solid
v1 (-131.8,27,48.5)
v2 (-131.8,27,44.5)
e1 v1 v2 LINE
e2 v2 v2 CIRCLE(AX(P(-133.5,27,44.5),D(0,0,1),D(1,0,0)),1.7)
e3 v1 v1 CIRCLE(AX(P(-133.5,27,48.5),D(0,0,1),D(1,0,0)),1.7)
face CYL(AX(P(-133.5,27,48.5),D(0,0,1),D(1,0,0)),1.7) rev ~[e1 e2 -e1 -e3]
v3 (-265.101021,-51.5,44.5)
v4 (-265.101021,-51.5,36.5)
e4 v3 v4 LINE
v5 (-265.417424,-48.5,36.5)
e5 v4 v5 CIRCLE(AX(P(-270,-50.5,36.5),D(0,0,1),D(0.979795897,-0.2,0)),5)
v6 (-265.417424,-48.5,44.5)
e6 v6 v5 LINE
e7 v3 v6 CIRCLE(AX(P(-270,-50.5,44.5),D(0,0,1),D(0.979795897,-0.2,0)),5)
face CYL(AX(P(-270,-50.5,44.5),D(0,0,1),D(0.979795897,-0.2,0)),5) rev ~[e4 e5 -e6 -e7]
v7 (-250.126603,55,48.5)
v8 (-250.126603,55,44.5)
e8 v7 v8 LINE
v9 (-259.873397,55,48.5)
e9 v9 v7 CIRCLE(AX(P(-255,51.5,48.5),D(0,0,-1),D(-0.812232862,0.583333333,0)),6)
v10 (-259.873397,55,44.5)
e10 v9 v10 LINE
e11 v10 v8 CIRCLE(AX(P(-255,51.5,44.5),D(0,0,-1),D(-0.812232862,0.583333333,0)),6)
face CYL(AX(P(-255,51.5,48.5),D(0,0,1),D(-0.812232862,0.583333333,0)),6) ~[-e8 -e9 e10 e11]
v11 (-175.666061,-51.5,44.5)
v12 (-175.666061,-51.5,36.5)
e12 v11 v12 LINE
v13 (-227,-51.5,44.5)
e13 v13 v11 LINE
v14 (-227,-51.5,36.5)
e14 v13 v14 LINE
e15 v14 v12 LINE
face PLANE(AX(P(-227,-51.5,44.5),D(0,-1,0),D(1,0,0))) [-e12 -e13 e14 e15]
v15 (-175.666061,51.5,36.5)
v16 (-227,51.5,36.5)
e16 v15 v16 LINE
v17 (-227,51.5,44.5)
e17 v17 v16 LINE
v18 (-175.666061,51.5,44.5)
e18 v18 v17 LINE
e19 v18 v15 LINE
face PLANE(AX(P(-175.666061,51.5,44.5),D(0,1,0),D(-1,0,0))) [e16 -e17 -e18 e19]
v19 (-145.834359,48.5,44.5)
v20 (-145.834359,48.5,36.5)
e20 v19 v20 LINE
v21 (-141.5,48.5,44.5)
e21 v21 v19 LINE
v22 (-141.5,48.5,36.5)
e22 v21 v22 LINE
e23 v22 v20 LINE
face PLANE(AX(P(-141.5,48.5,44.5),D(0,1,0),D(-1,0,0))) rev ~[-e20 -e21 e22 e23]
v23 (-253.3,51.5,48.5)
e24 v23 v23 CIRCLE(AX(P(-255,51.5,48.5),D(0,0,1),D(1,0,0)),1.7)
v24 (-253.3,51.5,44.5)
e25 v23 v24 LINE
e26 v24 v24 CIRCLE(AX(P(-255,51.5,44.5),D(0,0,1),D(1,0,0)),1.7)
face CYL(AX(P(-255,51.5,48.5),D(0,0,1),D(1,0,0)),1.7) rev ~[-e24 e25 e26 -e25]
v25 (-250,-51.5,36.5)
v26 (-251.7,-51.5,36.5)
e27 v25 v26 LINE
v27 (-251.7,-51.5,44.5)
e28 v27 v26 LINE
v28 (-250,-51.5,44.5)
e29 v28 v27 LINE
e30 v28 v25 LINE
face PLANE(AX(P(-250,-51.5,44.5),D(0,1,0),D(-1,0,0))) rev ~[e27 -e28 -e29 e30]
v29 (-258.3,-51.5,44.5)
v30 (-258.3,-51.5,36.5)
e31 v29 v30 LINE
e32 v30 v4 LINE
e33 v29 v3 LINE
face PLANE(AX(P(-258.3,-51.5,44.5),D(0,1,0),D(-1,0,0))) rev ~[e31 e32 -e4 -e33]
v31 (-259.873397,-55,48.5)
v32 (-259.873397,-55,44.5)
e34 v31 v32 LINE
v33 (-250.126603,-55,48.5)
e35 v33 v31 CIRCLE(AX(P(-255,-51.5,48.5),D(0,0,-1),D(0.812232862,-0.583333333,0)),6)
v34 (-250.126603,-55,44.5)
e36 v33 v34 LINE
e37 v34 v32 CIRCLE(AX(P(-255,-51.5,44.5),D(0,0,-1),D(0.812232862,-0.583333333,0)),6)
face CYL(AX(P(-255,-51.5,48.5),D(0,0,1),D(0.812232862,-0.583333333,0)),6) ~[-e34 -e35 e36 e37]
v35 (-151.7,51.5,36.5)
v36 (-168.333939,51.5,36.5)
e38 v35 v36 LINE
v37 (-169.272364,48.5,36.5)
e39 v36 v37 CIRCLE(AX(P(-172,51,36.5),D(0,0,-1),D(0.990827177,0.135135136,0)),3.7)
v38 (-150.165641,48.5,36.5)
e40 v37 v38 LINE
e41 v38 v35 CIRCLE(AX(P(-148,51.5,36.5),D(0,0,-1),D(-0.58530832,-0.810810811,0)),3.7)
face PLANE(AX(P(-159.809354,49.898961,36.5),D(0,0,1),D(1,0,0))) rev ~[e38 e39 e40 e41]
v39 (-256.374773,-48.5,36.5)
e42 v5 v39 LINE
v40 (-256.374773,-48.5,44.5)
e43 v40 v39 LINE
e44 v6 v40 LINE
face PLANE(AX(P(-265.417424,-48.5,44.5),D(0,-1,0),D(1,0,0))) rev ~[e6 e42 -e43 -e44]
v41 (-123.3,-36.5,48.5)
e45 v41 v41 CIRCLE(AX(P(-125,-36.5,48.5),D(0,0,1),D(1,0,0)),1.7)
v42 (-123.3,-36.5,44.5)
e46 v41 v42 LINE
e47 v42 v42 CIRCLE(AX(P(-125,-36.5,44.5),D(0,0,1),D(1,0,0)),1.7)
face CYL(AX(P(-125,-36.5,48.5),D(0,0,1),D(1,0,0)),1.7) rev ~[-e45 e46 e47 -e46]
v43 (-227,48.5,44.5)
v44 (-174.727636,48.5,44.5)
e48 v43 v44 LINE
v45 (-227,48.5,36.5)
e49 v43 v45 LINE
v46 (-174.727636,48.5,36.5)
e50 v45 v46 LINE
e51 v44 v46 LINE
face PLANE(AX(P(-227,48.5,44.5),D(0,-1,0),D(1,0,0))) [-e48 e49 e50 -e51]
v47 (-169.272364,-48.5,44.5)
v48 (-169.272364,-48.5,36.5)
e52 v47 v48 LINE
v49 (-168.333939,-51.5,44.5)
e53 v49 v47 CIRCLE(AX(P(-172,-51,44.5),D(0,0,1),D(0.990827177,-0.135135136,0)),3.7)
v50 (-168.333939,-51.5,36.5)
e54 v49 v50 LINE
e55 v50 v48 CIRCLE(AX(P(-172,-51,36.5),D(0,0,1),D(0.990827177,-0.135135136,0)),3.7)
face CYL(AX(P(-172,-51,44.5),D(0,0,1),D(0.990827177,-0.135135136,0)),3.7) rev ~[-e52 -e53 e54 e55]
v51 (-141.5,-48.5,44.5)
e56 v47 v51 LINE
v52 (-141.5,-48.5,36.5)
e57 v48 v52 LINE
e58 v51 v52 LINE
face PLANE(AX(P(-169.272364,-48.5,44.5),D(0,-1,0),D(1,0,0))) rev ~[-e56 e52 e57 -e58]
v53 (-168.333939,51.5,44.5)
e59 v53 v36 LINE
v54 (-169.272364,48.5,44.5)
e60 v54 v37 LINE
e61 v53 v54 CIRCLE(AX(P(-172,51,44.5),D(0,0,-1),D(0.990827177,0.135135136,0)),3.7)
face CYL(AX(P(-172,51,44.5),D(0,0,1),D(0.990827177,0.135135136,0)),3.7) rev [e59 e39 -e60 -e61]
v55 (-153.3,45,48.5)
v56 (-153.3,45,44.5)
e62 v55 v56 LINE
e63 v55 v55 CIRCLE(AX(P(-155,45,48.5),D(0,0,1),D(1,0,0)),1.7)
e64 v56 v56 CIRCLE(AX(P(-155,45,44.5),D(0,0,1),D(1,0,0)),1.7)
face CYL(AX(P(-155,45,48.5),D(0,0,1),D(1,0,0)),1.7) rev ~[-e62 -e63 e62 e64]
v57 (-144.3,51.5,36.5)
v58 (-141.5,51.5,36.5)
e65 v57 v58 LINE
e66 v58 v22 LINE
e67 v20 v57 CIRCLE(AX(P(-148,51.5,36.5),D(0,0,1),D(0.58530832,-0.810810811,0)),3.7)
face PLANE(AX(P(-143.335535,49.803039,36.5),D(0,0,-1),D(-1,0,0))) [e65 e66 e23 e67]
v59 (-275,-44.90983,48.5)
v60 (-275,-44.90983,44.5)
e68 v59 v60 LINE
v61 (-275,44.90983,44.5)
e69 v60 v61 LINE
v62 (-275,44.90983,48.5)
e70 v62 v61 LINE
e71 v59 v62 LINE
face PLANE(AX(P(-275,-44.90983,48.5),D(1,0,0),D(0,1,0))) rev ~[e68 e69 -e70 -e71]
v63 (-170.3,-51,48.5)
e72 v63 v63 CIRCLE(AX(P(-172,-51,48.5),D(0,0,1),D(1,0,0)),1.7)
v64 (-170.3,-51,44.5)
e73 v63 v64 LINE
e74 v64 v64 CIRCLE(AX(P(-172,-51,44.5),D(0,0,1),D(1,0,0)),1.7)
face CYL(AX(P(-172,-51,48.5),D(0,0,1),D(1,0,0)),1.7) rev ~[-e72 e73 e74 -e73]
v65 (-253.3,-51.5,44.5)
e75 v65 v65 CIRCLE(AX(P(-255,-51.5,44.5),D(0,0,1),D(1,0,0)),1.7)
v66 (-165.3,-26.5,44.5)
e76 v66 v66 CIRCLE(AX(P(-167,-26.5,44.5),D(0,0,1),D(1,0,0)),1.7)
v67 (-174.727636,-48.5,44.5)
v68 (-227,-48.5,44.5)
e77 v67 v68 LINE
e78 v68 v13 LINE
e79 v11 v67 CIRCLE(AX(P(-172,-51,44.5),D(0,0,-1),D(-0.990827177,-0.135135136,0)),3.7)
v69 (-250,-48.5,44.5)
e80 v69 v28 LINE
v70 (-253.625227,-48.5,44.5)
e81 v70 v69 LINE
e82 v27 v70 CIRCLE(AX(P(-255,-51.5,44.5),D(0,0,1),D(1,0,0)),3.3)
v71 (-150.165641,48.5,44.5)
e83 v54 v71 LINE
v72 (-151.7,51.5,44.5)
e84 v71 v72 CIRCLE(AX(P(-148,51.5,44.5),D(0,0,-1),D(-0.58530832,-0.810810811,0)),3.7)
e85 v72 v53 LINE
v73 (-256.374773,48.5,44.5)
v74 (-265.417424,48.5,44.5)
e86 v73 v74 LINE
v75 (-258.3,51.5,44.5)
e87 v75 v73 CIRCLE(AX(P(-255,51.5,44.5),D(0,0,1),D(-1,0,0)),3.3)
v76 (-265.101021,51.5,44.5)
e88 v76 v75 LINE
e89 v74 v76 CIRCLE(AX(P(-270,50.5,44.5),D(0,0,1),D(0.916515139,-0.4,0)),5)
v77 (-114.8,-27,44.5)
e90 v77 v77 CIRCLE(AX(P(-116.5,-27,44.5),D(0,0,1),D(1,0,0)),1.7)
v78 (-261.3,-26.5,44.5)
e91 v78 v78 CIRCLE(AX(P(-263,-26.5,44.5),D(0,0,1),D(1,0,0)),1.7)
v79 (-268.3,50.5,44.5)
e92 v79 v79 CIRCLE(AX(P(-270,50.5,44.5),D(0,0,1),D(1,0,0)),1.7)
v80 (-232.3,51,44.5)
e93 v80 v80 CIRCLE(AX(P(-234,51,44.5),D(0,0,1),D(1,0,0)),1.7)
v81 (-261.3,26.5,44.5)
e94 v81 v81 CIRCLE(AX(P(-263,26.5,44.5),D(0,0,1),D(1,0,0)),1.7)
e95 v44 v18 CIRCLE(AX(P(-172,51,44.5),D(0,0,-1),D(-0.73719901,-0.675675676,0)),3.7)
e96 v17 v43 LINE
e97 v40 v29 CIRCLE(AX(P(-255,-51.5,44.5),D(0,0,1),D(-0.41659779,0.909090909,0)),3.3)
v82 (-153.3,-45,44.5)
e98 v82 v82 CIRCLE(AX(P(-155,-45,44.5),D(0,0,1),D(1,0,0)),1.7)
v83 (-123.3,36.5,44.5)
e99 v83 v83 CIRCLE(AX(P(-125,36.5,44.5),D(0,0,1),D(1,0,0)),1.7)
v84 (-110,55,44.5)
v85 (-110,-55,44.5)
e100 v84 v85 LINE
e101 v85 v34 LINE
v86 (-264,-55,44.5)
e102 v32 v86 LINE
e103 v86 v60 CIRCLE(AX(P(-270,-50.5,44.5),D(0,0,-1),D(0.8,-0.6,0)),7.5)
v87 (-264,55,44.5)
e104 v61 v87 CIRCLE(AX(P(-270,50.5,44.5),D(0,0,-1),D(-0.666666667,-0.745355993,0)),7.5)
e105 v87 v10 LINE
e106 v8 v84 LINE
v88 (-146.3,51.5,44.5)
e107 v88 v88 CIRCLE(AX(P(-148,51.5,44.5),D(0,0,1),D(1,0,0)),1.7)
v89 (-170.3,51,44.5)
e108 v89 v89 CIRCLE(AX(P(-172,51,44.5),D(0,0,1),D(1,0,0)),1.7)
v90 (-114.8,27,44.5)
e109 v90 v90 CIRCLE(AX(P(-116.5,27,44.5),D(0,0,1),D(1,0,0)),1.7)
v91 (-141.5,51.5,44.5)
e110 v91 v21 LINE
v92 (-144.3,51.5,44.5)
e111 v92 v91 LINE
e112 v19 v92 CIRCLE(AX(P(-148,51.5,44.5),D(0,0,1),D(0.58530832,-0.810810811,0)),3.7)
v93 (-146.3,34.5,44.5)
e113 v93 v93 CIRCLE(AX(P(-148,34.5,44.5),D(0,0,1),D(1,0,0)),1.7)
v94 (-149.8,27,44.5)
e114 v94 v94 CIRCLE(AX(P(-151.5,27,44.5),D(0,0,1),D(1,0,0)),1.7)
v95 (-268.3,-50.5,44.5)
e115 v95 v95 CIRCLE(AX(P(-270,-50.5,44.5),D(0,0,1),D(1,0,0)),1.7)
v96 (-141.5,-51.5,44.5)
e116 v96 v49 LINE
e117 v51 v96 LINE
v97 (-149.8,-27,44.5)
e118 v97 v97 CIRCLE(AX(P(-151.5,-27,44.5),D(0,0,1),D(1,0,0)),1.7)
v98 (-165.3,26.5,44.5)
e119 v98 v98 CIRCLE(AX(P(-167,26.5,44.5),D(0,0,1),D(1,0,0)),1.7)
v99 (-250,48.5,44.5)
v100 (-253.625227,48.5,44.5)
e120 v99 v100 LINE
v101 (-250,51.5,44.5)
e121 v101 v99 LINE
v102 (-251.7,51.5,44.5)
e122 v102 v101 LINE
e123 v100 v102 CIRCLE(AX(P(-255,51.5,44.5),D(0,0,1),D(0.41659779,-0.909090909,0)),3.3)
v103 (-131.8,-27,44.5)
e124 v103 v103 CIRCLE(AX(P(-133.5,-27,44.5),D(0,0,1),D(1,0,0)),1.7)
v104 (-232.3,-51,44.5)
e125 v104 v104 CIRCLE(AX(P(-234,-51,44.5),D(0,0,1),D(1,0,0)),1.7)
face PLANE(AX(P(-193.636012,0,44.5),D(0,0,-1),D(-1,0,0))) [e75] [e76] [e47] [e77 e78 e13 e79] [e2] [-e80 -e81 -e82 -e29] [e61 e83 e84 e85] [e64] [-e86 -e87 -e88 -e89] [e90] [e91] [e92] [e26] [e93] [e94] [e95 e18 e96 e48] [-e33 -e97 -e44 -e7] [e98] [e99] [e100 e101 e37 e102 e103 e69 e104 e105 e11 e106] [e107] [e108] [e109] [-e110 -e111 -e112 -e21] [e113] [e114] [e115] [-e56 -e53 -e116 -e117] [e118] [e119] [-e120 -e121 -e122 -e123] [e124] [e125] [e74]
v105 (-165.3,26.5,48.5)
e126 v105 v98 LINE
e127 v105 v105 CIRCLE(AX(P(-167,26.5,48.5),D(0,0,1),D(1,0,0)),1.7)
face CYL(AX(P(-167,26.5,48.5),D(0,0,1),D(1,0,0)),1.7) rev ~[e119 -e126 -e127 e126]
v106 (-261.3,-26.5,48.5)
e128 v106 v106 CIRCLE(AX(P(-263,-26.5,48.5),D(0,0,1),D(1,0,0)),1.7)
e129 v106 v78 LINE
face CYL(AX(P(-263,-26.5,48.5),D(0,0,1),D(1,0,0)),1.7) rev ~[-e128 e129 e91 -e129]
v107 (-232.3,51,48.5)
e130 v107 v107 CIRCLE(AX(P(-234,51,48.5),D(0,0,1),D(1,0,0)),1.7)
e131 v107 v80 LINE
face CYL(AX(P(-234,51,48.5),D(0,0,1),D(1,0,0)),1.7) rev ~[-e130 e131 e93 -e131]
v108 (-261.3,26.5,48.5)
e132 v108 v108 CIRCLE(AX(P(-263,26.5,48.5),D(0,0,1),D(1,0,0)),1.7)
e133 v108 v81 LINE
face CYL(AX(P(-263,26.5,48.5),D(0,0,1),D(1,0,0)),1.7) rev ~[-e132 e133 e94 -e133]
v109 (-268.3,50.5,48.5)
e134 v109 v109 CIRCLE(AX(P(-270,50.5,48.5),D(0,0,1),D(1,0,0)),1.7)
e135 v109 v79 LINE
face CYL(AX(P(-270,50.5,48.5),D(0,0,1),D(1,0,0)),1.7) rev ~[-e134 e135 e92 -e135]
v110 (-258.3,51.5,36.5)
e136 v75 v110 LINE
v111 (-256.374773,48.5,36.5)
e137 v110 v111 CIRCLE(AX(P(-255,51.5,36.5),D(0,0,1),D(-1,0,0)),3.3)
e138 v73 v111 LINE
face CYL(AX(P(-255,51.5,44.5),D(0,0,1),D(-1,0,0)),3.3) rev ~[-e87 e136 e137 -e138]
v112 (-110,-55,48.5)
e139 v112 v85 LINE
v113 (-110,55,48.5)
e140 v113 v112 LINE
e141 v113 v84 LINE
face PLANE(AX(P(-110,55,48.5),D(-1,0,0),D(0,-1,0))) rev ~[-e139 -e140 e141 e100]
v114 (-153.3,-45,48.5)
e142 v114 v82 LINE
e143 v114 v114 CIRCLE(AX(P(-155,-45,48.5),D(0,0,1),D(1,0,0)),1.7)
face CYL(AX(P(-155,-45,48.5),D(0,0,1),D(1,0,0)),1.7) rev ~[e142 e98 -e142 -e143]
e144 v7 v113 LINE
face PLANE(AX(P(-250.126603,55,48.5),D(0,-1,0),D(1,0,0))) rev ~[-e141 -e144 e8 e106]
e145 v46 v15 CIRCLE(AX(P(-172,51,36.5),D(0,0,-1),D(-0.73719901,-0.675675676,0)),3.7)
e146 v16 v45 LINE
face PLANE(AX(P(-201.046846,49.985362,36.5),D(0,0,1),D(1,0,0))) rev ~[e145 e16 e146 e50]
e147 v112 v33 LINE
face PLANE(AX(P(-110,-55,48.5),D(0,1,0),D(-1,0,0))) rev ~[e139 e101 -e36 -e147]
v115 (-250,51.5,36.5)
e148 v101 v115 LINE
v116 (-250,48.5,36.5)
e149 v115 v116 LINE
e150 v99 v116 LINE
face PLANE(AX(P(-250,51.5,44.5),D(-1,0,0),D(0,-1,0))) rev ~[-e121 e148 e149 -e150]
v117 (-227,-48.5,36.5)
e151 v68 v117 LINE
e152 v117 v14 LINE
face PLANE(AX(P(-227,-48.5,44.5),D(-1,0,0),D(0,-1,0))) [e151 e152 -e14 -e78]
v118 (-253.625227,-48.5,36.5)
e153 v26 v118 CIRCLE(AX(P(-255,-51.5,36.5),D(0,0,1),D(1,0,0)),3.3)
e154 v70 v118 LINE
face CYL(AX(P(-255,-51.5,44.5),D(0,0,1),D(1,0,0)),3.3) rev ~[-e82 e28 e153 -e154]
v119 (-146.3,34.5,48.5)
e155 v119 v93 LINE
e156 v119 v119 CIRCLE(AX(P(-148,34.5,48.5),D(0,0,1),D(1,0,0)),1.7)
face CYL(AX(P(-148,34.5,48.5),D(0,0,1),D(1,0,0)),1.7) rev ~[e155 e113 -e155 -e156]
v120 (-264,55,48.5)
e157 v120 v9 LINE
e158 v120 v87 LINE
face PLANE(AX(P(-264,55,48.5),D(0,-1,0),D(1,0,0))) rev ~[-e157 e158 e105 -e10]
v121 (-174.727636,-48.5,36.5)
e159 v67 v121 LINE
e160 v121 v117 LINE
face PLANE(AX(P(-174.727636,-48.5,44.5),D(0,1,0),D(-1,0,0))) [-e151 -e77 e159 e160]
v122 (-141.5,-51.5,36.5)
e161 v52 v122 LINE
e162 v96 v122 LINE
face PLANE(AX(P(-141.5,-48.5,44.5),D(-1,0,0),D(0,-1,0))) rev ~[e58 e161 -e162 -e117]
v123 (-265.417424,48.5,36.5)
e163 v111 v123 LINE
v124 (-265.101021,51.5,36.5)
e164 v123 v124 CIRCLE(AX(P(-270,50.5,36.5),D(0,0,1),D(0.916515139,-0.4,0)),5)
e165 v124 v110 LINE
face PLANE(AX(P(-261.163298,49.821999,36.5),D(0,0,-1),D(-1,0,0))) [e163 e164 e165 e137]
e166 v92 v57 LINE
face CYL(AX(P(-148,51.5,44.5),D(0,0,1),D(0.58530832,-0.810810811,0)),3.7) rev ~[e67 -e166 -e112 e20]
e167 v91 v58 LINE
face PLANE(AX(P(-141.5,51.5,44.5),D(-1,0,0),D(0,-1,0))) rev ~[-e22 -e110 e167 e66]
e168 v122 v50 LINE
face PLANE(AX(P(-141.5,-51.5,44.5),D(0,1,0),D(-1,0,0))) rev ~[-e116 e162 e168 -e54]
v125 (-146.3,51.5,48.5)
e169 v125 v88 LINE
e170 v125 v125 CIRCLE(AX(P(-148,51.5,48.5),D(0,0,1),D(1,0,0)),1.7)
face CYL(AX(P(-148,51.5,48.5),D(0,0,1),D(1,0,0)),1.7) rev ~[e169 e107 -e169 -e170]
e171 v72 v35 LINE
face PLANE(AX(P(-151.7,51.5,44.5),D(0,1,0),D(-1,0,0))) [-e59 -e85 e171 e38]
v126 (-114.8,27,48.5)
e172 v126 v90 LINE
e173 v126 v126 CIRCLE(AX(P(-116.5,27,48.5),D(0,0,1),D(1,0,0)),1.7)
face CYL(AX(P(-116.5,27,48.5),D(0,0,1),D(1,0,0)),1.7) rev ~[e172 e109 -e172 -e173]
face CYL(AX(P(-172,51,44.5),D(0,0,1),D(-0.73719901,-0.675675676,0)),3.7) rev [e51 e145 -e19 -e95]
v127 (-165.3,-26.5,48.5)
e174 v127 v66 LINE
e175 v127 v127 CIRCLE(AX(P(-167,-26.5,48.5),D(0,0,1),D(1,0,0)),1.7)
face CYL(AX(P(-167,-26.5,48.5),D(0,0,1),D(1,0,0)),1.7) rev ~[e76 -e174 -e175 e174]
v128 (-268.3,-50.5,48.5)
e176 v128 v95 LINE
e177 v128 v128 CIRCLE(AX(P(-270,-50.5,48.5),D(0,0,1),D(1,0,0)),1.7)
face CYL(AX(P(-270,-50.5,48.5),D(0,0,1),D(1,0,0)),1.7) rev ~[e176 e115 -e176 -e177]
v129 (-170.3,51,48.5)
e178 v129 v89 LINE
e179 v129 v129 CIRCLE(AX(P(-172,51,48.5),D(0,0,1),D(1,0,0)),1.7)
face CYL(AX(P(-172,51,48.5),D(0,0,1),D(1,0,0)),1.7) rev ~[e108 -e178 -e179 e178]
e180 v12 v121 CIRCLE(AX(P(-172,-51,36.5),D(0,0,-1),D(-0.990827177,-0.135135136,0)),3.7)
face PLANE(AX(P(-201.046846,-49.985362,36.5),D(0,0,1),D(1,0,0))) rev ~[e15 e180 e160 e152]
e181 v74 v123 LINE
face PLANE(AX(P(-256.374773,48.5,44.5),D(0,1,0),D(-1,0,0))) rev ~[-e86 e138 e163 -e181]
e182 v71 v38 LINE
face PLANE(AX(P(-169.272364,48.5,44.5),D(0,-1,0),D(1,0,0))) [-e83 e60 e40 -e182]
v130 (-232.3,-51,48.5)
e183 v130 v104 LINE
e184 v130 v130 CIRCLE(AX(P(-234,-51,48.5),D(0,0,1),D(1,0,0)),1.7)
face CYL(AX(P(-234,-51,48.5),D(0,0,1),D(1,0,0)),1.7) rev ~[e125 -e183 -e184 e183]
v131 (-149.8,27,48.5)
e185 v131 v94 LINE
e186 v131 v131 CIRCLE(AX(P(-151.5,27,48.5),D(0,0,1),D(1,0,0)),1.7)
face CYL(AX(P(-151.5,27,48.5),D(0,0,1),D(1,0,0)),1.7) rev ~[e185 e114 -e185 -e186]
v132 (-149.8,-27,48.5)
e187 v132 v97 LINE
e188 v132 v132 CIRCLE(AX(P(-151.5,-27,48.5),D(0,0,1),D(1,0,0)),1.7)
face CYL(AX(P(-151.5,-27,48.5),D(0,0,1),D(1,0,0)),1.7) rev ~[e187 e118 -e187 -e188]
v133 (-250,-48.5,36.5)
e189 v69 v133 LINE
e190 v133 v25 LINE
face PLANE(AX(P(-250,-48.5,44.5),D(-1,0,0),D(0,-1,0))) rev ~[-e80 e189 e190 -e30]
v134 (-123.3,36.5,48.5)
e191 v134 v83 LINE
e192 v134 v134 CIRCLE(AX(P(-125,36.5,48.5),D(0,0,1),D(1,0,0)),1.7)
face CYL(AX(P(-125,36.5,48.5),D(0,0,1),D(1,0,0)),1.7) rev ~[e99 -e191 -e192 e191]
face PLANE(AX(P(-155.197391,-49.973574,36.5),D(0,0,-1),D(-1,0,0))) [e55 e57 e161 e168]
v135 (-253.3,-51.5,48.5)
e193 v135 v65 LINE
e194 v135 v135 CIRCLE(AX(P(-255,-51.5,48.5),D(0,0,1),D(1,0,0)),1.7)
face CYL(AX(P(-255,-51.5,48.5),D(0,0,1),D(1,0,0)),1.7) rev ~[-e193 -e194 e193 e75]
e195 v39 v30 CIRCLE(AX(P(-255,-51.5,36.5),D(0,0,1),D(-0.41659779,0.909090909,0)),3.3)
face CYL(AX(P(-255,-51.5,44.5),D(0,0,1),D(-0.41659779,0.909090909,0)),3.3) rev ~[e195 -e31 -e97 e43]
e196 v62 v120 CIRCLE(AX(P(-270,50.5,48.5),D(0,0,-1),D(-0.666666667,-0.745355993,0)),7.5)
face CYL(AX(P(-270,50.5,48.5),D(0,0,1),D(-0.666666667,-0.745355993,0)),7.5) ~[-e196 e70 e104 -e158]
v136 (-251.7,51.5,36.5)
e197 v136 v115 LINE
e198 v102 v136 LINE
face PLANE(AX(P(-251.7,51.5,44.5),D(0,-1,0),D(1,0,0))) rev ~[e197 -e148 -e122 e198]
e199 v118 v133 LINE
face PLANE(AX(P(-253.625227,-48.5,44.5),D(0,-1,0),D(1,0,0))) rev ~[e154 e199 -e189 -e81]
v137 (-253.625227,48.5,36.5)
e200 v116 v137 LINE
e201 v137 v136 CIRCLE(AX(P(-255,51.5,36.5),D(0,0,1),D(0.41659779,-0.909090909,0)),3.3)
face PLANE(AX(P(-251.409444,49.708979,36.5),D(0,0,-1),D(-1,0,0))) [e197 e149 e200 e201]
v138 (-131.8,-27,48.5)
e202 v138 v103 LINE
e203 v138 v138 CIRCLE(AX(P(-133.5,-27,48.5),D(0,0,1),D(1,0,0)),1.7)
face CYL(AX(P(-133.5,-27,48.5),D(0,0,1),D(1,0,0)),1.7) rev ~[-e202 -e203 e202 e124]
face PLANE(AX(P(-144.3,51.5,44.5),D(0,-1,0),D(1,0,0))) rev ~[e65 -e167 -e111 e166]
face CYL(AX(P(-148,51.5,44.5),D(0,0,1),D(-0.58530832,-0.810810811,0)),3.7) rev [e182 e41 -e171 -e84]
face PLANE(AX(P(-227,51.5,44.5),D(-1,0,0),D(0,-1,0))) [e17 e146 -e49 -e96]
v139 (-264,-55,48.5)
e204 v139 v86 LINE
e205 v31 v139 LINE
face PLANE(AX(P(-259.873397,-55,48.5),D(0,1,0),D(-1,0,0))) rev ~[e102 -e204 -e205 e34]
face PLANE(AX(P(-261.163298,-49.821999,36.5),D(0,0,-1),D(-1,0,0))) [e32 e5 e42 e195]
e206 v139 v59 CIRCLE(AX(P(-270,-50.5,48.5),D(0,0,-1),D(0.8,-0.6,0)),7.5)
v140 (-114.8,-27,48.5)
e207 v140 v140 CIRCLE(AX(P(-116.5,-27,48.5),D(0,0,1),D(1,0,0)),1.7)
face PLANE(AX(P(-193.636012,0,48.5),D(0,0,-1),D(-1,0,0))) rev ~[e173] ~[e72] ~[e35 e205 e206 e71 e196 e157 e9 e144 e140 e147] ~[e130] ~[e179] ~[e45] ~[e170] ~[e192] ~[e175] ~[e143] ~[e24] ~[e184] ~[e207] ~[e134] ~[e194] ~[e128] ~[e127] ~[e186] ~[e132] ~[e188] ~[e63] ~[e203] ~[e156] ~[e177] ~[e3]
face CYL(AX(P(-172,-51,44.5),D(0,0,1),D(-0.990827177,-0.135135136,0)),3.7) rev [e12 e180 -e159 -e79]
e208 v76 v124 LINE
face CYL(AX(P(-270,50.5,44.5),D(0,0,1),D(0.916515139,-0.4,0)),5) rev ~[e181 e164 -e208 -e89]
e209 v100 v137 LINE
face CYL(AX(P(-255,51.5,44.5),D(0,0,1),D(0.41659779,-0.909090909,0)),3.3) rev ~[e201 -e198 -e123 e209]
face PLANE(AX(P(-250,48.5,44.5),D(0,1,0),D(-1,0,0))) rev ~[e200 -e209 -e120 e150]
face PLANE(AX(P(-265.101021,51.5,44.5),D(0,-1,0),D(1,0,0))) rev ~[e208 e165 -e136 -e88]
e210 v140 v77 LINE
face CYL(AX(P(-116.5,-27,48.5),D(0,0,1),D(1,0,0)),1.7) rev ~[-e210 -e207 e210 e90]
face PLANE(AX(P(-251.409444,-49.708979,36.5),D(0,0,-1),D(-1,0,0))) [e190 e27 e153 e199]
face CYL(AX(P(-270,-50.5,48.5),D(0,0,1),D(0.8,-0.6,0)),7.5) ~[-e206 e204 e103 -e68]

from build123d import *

# Parameters (mm, degrees)
MAIN_PROFILE_SKETCH_R    = 1.7
MAIN_EXTRUSION_DEPTH     = 4
DETAIL_EXTRUSION_2_DEPTH = 8


with BuildPart() as part:
    # Main Profile Sketch → Main Extrusion (new body)
    with BuildSketch(Plane.XY.offset(48.5)):
        with BuildLine():
            Line((-110, 55), (-110, -55))
            Line((-110, -55), (-250.126602828, -55))
            ThreePointArc((-250.126602828, -55), (-255, -57.5), (-259.873397172, -55))
            Line((-259.873397172, -55), (-264, -55))
            ThreePointArc((-264, -55), (-275.069801019, -56.026944692), (-275, -44.909830056))
            Line((-275, -44.909830056), (-275, 44.909830056))
            ThreePointArc((-275, 44.909830056), (-275.069801019, 56.026944692), (-264, 55))
            Line((-264, 55), (-259.873397172, 55))
            ThreePointArc((-259.873397172, 55), (-255, 57.5), (-250.126602828, 55))
            Line((-250.126602828, 55), (-110, 55))
        make_face()
        with Locations((-270, -50.5)):
            Circle(MAIN_PROFILE_SKETCH_R, mode=Mode.SUBTRACT)
        with Locations((-255, -51.5)):
            Circle(MAIN_PROFILE_SKETCH_R, mode=Mode.SUBTRACT)
        with Locations((-234, -51)):
            Circle(MAIN_PROFILE_SKETCH_R, mode=Mode.SUBTRACT)
        with Locations((-263, -26.5)):
            Circle(MAIN_PROFILE_SKETCH_R, mode=Mode.SUBTRACT)
        with Locations((-172, -51)):
            Circle(MAIN_PROFILE_SKETCH_R, mode=Mode.SUBTRACT)
        with Locations((-155, -45)):
            Circle(MAIN_PROFILE_SKETCH_R, mode=Mode.SUBTRACT)
        with Locations((-125, -36.5)):
            Circle(MAIN_PROFILE_SKETCH_R, mode=Mode.SUBTRACT)
        with Locations((-167, -26.5)):
            Circle(MAIN_PROFILE_SKETCH_R, mode=Mode.SUBTRACT)
        with Locations((-151.5, -27)):
            Circle(MAIN_PROFILE_SKETCH_R, mode=Mode.SUBTRACT)
        with Locations((-133.5, -27)):
            Circle(MAIN_PROFILE_SKETCH_R, mode=Mode.SUBTRACT)
        with Locations((-116.5, -27)):
            Circle(MAIN_PROFILE_SKETCH_R, mode=Mode.SUBTRACT)
        with Locations((-263, 26.5)):
            Circle(MAIN_PROFILE_SKETCH_R, mode=Mode.SUBTRACT)
        with Locations((-270, 50.5)):
            Circle(MAIN_PROFILE_SKETCH_R, mode=Mode.SUBTRACT)
        with Locations((-255, 51.5)):
            Circle(MAIN_PROFILE_SKETCH_R, mode=Mode.SUBTRACT)
        with Locations((-234, 51)):
            Circle(MAIN_PROFILE_SKETCH_R, mode=Mode.SUBTRACT)
        with Locations((-167, 26.5)):
            Circle(MAIN_PROFILE_SKETCH_R, mode=Mode.SUBTRACT)
        with Locations((-151.5, 27)):
            Circle(MAIN_PROFILE_SKETCH_R, mode=Mode.SUBTRACT)
        with Locations((-133.5, 27)):
            Circle(MAIN_PROFILE_SKETCH_R, mode=Mode.SUBTRACT)
        with Locations((-116.5, 27)):
            Circle(MAIN_PROFILE_SKETCH_R, mode=Mode.SUBTRACT)
        with Locations((-155, 45)):
            Circle(MAIN_PROFILE_SKETCH_R, mode=Mode.SUBTRACT)
        with Locations((-172, 51)):
            Circle(MAIN_PROFILE_SKETCH_R, mode=Mode.SUBTRACT)
        with Locations((-148, 34.5)):
            Circle(MAIN_PROFILE_SKETCH_R, mode=Mode.SUBTRACT)
        with Locations((-125, 36.5)):
            Circle(MAIN_PROFILE_SKETCH_R, mode=Mode.SUBTRACT)
        with Locations((-148, 51.5)):
            Circle(MAIN_PROFILE_SKETCH_R, mode=Mode.SUBTRACT)
    extrude(amount=-MAIN_EXTRUSION_DEPTH)

    # Detail Profile 2 Sketch → Detail Extrusion 2 (add)
    with BuildSketch(Plane.XY.offset(44.5)):
        with BuildLine():
            Line((-265.417424305, -48.5), (-256.374772708, -48.5))
            ThreePointArc((-256.374772708, -48.5), (-257.777296342, -49.717691096), (-258.3, -51.5))
            Line((-258.3, -51.5), (-265.101020514, -51.5))
            ThreePointArc((-265.101020514, -51.5), (-265.027578843, -49.975569032), (-265.417424305, -48.5))
        make_face()
        with BuildLine():
            Line((-253.625227292, -48.5), (-250, -48.5))
            Line((-250, -48.5), (-250, -51.5))
            Line((-250, -51.5), (-251.7, -51.5))
            ThreePointArc((-251.7, -51.5), (-252.222703658, -49.717691096), (-253.625227292, -48.5))
        make_face()
        with BuildLine():
            Line((-227, -51.5), (-175.666060556, -51.5))
            ThreePointArc((-175.666060556, -51.5), (-175.531266062, -49.895391471), (-174.727636339, -48.5))
            Line((-174.727636339, -48.5), (-227, -48.5))
            Line((-227, -48.5), (-227, -51.5))
        make_face()
        with BuildLine():
            Line((-141.5, -48.5), (-141.5, -51.5))
            Line((-141.5, -51.5), (-168.333939444, -51.5))
            ThreePointArc((-168.333939444, -51.5), (-168.468733938, -49.895391471), (-169.272363661, -48.5))
            Line((-169.272363661, -48.5), (-141.5, -48.5))
        make_face()
        with BuildLine():
            Line((-265.101020514, 51.5), (-258.3, 51.5))
            ThreePointArc((-258.3, 51.5), (-257.777296342, 49.717691096), (-256.374772708, 48.5))
            Line((-256.374772708, 48.5), (-265.417424305, 48.5))
            ThreePointArc((-265.417424305, 48.5), (-265.027578843, 49.975569032), (-265.101020514, 51.5))
        make_face()
        with BuildLine():
            Line((-251.7, 51.5), (-250, 51.5))
            Line((-250, 51.5), (-250, 48.5))
            Line((-250, 48.5), (-253.625227292, 48.5))
            ThreePointArc((-253.625227292, 48.5), (-252.222703658, 49.717691096), (-251.7, 51.5))
        make_face()
        with BuildLine():
            Line((-227, 48.5), (-174.727636339, 48.5))
            ThreePointArc((-174.727636339, 48.5), (-175.531266062, 49.895391471), (-175.666060556, 51.5))
            Line((-175.666060556, 51.5), (-227, 51.5))
            Line((-227, 51.5), (-227, 48.5))
        make_face()
        with BuildLine():
            Line((-169.272363661, 48.5), (-150.165640783, 48.5))
            ThreePointArc((-150.165640783, 48.5), (-151.294151704, 49.81519599), (-151.7, 51.5))
            Line((-151.7, 51.5), (-168.333939444, 51.5))
            ThreePointArc((-168.333939444, 51.5), (-168.468733938, 49.895391471), (-169.272363661, 48.5))
        make_face()
        with BuildLine():
            Line((-141.5, 51.5), (-141.5, 48.5))
            Line((-141.5, 48.5), (-145.834359217, 48.5))
            ThreePointArc((-145.834359217, 48.5), (-144.705848296, 49.81519599), (-144.3, 51.5))
            Line((-144.3, 51.5), (-141.5, 51.5))
        make_face()
    extrude(amount=-DETAIL_EXTRUSION_2_DEPTH)


solid = part.part
